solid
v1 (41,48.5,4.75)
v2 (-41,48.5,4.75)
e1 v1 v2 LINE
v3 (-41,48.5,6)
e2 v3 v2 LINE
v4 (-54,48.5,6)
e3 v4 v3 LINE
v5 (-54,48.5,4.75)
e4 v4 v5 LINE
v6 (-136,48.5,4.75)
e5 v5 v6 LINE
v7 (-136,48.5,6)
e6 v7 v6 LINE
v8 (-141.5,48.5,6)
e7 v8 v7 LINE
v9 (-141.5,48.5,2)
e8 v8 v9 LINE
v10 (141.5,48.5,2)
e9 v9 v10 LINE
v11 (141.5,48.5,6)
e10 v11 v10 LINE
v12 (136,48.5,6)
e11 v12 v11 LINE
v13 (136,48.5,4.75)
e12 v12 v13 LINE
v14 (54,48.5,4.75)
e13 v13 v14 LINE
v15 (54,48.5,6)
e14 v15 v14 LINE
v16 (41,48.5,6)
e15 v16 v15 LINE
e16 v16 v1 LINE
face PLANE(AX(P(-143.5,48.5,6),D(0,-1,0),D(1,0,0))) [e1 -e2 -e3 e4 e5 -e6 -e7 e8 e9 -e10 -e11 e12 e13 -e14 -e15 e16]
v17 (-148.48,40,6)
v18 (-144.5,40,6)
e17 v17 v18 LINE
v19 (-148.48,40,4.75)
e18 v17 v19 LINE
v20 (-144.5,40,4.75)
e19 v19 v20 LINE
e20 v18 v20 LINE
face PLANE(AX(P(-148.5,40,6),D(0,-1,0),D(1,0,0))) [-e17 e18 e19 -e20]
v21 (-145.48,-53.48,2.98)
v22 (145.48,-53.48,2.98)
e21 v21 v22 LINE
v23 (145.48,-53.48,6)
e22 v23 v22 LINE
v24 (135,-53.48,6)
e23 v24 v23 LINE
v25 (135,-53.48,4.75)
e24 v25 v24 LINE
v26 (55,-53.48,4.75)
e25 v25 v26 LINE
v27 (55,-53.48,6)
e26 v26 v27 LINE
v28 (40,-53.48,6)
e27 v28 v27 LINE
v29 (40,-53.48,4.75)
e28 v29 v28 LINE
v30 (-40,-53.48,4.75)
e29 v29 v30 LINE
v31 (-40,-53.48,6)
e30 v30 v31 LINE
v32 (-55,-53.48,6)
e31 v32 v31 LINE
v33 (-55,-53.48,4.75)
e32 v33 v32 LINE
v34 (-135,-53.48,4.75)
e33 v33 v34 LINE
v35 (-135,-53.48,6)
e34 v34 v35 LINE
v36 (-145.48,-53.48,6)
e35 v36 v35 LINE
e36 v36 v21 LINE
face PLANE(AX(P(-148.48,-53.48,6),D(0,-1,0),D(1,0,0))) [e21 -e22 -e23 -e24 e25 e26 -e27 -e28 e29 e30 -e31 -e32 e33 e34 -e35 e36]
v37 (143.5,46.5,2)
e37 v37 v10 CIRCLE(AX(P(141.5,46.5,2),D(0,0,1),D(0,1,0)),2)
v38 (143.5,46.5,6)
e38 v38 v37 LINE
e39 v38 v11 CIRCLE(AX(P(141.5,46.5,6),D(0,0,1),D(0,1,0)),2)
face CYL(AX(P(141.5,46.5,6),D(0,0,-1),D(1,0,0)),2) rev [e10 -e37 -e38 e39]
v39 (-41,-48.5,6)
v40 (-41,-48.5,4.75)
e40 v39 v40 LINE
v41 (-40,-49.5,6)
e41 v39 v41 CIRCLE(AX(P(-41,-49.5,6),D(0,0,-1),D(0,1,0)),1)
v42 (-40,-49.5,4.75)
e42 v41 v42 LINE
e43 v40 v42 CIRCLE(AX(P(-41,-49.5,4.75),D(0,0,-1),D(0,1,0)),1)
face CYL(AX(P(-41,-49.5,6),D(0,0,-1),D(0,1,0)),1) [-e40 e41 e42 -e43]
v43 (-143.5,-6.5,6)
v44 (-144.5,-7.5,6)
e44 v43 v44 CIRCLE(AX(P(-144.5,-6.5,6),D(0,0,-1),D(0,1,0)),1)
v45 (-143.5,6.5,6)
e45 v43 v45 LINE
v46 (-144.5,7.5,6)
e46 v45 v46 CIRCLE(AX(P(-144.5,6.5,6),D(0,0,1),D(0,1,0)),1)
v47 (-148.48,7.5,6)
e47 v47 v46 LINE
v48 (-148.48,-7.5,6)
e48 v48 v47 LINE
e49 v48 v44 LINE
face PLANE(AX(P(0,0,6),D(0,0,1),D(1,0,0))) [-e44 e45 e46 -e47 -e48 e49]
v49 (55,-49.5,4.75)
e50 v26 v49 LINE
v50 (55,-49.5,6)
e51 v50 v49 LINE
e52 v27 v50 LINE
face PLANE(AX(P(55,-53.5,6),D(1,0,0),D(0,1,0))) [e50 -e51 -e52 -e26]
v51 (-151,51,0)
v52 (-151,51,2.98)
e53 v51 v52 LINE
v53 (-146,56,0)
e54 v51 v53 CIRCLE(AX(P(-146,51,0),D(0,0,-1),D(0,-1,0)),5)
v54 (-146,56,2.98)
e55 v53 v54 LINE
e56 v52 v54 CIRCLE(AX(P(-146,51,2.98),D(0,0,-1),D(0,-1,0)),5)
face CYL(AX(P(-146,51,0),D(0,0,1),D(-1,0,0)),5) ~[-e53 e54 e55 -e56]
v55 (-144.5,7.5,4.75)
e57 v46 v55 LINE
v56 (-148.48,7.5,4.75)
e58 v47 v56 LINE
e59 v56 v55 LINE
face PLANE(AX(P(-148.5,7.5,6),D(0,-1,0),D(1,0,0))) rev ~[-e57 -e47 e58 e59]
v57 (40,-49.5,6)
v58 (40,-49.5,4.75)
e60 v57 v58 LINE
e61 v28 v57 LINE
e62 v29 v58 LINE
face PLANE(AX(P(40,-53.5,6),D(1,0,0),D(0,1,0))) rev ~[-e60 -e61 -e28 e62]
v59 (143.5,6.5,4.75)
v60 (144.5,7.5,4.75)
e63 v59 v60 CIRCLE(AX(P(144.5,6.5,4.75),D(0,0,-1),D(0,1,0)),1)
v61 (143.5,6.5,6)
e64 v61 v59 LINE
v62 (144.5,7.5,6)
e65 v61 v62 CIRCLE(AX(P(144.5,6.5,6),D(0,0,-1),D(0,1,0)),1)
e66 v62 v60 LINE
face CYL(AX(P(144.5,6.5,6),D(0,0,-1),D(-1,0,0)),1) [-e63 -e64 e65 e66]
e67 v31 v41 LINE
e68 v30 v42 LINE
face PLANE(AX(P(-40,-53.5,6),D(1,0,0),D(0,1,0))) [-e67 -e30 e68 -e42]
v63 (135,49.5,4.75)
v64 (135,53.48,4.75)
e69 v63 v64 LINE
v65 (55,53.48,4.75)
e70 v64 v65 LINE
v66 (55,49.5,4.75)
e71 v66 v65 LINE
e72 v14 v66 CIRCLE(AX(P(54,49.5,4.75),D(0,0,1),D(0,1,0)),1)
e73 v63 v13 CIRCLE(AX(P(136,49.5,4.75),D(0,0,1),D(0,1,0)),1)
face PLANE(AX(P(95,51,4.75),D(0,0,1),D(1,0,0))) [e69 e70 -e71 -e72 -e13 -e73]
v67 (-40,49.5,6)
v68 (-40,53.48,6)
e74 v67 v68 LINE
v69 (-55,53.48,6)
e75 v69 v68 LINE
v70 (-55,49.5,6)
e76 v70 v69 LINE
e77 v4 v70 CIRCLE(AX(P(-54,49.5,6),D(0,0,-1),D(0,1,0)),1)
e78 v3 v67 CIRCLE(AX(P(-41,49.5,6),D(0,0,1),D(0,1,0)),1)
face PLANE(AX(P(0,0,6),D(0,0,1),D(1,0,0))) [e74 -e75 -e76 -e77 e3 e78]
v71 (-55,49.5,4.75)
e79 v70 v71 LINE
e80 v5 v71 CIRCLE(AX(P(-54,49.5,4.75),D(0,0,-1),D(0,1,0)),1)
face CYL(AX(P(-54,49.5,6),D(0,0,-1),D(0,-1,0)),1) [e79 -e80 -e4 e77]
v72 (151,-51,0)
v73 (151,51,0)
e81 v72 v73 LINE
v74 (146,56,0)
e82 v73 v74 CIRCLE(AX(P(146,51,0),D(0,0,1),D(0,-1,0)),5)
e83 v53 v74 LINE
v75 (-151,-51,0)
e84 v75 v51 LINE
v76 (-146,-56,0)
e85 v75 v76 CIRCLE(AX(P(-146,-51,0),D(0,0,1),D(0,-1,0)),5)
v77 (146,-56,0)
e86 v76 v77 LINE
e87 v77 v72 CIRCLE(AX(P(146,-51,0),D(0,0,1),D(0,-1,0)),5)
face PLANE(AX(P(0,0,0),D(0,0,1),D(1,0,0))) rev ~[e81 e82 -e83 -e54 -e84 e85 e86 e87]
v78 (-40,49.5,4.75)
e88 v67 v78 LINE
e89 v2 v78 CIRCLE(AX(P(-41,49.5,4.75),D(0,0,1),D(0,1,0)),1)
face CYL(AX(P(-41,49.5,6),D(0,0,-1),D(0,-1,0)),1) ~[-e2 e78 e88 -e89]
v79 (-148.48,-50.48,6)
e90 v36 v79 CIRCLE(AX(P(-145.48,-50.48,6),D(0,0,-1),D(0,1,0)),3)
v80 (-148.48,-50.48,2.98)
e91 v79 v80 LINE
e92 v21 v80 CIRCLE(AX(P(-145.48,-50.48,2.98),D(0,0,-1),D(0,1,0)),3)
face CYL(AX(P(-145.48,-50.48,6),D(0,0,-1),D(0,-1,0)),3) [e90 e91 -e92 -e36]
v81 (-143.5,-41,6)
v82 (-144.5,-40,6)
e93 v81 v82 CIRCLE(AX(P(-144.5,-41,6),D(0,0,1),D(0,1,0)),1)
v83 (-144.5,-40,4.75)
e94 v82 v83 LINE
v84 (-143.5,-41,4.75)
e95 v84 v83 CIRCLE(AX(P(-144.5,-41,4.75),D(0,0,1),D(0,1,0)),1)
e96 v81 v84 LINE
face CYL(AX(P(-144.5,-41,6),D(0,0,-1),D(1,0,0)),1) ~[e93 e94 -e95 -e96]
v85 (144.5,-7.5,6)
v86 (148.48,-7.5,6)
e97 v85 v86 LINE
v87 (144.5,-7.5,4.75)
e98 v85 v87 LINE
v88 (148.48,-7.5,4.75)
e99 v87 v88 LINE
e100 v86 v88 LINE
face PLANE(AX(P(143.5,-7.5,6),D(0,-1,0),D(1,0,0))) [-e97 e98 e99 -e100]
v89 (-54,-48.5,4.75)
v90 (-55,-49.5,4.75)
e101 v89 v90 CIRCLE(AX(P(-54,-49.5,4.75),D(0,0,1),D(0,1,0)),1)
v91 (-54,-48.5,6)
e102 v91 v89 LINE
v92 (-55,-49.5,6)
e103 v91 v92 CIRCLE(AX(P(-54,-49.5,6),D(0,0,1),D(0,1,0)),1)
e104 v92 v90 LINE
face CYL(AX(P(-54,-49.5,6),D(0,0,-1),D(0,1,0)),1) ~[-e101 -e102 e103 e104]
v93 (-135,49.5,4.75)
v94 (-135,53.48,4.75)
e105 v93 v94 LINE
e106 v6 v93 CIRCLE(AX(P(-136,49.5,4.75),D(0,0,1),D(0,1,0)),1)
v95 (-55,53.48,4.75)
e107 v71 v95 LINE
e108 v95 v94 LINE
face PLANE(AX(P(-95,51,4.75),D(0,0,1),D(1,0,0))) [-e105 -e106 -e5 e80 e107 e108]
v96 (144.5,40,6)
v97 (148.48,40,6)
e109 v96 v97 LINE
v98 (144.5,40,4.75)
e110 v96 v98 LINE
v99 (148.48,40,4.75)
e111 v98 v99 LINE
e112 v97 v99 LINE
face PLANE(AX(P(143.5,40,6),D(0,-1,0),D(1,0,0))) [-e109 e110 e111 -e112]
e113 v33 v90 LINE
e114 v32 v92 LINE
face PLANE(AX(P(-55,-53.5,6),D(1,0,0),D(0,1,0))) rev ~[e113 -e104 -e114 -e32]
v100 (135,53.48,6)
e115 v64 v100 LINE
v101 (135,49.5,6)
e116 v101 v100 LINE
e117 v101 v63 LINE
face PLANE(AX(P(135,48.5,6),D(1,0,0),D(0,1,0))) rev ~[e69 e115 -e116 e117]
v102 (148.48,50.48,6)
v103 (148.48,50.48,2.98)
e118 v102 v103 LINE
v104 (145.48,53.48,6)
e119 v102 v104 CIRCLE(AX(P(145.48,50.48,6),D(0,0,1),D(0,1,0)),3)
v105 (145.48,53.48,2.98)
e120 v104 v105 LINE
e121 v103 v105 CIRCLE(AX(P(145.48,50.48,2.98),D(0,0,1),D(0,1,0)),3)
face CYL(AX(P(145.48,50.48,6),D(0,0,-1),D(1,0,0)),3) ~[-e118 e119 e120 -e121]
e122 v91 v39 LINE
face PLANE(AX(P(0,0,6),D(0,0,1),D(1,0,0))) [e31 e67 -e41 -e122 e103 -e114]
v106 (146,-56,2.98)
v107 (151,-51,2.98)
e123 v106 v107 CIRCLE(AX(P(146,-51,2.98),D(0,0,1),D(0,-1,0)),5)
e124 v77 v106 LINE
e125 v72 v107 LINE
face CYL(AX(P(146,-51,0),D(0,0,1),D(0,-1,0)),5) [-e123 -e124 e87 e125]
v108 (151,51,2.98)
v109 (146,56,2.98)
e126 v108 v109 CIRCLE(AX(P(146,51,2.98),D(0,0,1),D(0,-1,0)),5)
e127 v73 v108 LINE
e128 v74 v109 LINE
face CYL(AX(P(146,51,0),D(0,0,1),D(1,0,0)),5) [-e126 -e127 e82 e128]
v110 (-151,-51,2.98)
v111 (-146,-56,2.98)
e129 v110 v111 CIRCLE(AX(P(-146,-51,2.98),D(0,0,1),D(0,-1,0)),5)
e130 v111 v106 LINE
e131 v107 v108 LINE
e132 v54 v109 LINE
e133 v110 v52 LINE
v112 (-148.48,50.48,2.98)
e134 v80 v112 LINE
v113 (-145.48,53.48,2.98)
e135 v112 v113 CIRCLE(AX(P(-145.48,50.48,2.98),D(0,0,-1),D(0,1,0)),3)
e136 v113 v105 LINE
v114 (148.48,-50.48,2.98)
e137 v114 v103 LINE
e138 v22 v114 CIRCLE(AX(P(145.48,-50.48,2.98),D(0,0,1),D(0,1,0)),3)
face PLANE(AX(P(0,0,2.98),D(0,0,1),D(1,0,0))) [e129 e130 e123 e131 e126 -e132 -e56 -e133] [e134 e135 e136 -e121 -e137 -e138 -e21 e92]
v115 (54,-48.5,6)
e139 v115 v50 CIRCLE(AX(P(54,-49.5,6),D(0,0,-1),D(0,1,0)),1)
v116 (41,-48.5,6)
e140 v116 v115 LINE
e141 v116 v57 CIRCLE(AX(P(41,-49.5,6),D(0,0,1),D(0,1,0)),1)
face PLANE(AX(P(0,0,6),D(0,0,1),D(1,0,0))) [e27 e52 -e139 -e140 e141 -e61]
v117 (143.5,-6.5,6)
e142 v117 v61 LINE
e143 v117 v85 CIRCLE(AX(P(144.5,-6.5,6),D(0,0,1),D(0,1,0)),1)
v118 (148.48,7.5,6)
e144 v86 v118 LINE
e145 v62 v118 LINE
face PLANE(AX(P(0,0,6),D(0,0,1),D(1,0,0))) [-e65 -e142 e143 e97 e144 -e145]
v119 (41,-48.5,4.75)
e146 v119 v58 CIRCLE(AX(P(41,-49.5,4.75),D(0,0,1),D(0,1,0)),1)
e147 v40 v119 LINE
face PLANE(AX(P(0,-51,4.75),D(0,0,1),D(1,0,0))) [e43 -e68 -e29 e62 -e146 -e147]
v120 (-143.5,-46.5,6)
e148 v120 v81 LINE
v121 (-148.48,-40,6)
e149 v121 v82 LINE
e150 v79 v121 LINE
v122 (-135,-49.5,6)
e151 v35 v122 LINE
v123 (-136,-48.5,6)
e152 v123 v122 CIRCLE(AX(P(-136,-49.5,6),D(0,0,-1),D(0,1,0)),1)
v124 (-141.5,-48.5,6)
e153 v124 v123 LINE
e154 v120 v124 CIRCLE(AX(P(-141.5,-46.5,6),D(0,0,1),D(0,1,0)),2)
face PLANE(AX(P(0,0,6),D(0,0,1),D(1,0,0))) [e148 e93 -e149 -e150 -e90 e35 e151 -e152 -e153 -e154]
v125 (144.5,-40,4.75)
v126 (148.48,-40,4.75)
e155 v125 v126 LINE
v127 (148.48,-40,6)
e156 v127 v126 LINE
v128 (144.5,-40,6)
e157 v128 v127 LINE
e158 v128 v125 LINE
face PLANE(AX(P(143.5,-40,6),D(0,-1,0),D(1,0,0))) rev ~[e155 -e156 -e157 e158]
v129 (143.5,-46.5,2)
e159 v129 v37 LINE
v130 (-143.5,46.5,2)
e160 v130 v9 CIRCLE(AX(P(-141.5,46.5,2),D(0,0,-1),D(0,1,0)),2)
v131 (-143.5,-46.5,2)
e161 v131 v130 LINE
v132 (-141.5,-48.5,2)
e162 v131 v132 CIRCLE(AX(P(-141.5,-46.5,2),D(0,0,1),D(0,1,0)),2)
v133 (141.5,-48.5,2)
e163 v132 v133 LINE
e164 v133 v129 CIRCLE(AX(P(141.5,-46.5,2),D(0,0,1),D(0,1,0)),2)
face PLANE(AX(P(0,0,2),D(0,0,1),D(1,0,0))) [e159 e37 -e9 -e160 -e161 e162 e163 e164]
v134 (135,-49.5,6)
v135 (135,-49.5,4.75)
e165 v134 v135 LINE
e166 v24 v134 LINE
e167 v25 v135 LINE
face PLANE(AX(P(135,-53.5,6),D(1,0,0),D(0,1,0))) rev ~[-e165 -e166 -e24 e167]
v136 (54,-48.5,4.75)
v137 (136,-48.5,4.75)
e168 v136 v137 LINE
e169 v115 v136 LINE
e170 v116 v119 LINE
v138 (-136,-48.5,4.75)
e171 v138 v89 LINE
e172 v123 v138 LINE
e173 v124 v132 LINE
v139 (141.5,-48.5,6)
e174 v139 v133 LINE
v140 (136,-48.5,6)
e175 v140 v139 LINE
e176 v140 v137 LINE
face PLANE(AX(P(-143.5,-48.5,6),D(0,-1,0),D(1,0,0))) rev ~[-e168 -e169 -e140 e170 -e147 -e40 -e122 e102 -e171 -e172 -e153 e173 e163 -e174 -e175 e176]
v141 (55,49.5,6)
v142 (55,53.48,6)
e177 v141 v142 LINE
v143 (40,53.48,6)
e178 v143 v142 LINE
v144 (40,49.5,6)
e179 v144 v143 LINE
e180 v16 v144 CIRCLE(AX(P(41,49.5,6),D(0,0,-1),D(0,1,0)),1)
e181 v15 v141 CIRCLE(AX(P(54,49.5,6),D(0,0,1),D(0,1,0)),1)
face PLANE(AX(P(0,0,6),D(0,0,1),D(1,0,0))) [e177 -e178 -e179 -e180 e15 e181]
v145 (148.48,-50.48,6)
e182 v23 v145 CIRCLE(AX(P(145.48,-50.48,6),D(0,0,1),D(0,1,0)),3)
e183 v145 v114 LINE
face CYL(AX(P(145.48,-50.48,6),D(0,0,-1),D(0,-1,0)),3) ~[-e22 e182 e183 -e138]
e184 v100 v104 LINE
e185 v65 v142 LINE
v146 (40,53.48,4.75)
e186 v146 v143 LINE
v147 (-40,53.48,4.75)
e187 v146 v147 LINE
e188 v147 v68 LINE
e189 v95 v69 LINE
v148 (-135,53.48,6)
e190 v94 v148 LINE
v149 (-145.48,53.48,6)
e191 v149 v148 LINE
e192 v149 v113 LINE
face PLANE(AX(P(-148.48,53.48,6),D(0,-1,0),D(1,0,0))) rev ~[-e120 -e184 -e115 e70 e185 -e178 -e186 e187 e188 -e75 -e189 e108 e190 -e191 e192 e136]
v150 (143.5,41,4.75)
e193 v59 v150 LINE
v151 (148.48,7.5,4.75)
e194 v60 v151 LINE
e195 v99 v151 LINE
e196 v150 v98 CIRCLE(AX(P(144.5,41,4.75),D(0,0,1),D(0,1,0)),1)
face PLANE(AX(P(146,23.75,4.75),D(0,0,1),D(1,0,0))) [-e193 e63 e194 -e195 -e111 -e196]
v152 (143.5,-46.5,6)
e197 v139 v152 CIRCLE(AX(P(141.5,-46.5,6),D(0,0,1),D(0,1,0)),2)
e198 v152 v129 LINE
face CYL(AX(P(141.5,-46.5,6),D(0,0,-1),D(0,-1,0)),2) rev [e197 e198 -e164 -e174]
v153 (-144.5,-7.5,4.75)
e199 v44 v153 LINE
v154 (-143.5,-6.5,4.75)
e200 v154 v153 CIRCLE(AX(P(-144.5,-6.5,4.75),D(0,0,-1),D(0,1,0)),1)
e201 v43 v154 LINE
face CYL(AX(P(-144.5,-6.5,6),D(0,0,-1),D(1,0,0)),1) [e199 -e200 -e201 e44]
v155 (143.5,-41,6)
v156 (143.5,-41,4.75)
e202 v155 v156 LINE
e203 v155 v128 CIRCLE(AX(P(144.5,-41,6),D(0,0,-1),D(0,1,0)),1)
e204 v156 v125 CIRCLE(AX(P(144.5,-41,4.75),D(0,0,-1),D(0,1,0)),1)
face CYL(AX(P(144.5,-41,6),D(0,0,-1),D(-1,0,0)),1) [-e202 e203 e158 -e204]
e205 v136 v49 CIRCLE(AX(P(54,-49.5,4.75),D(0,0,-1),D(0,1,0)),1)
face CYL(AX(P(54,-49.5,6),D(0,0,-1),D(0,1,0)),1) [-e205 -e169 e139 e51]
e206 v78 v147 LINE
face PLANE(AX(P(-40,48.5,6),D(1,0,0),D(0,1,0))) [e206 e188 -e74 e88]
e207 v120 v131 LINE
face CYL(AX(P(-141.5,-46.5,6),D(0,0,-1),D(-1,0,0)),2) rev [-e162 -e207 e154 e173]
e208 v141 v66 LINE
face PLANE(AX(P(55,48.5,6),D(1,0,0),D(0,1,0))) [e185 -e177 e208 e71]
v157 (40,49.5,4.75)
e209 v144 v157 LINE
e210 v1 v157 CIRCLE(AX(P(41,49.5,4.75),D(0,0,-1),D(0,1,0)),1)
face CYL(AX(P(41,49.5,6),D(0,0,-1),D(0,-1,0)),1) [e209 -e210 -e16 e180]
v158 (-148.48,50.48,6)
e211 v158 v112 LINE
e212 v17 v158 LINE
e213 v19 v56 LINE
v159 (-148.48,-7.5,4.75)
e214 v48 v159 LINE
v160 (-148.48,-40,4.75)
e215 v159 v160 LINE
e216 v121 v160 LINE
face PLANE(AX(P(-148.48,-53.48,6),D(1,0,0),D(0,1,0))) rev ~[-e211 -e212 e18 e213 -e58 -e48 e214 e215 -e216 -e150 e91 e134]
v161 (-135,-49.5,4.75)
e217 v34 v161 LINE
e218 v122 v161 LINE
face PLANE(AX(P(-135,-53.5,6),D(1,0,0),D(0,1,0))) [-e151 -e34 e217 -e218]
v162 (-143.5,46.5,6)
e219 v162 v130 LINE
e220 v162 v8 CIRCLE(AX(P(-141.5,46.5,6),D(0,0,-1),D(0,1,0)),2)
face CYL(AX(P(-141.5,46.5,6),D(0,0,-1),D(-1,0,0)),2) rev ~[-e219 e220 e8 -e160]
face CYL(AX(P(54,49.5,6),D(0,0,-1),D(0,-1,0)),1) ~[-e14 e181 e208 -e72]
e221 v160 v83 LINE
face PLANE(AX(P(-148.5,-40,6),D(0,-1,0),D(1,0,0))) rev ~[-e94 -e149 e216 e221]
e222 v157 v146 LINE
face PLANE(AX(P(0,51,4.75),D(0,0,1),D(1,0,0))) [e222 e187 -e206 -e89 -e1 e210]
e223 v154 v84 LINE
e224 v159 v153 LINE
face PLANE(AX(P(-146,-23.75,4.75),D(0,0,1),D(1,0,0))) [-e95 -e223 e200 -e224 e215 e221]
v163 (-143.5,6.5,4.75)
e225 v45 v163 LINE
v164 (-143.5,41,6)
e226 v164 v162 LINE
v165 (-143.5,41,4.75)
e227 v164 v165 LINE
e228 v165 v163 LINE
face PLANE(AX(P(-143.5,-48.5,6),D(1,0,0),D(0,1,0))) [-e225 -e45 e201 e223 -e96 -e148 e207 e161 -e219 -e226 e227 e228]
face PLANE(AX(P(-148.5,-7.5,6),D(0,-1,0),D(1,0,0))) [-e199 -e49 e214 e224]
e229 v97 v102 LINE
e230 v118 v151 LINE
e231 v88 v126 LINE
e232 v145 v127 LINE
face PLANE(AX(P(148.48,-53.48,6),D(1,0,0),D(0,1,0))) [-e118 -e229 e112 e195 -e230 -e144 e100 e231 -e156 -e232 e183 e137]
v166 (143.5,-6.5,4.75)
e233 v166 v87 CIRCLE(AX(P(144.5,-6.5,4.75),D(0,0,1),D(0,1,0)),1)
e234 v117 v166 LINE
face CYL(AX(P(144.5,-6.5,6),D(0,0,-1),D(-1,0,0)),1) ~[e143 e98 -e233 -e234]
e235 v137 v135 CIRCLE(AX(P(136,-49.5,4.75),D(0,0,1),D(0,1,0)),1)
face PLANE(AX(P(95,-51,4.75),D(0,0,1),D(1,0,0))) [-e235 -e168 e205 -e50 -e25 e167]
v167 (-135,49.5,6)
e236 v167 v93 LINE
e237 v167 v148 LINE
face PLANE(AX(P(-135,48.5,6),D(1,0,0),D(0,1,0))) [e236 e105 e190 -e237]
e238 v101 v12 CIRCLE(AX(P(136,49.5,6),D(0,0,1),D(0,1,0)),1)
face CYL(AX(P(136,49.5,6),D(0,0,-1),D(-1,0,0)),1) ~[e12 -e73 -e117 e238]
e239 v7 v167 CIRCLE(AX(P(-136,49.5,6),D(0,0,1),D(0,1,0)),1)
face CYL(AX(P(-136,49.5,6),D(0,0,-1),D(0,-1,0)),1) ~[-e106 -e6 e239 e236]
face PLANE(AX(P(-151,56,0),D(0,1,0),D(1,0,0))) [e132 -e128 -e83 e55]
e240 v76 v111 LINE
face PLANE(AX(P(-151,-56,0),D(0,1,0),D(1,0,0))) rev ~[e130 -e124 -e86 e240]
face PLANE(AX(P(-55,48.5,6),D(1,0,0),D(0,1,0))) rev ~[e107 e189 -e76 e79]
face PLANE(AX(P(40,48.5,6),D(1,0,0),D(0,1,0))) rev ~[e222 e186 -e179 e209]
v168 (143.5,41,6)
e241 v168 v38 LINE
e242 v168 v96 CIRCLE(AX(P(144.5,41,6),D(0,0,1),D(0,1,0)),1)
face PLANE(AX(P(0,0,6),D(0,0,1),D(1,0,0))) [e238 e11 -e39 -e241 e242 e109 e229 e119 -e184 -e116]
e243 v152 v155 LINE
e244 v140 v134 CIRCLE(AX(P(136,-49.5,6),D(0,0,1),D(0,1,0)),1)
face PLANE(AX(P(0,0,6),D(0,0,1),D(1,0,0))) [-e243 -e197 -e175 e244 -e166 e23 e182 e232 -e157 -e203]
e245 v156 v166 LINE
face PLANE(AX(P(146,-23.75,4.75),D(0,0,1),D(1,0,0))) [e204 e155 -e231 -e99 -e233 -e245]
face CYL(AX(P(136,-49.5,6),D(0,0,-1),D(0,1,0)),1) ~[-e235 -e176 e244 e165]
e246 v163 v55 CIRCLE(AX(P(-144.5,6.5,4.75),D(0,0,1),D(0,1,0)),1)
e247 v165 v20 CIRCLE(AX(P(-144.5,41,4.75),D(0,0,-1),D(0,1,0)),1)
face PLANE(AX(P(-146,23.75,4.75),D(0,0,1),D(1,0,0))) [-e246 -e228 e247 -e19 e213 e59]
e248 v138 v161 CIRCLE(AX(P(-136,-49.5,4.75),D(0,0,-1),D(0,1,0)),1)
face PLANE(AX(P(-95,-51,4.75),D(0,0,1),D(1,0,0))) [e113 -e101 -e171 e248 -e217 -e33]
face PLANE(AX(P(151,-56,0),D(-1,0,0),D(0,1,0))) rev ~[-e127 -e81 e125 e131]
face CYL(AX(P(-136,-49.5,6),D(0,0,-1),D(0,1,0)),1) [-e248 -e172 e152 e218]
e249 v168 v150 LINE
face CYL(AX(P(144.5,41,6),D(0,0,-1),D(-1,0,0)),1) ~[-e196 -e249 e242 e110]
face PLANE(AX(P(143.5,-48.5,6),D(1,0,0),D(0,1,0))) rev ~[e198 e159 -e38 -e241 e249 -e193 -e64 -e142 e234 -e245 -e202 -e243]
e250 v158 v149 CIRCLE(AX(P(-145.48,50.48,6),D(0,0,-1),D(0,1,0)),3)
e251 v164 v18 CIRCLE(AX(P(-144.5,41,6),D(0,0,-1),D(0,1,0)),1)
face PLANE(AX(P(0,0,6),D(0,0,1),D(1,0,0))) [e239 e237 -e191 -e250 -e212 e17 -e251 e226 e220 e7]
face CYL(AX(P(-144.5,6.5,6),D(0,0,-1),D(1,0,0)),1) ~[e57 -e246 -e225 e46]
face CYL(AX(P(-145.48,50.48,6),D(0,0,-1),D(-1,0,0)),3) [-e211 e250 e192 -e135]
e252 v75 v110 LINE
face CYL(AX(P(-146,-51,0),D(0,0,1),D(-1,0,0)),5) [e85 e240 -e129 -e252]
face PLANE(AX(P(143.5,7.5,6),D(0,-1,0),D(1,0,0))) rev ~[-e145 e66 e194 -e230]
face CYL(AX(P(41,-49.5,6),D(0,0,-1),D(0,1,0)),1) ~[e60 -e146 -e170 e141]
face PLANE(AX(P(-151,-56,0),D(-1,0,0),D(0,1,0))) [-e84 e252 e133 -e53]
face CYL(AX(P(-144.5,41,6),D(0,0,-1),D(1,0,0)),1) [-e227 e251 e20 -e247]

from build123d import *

# Parameters (mm, degrees)
SKETCH_W        = 302
SKETCH_H        = 112
PAD_DEPTH       = 6
SKETCH001_W     = 287
SKETCH001_H     = 97
POCKET_DEPTH    = 4
SKETCH002_W     = 302
SKETCH002_H     = 112
SKETCH002_W_2   = 296.96
SKETCH002_H_2   = 106.96
POCKET001_DEPTH = 3.02
FILLET_R        = 3
FILLET001_R     = 5
FILLET002_R     = 5
FILLET003_R     = 3
FILLET004_R     = 2
FILLET005_R     = 2
FILLET006_R     = 5
FILLET007_R     = 3
FILLET008_R     = 2
FILLET009_R     = 5
FILLET010_R     = 3
FILLET011_R     = 2
SKETCH003_W     = 80
SKETCH003_H     = 5
POCKET002_DEPTH = 1.25
SKETCH004_W     = 5
SKETCH004_H     = 32.5
POCKET003_DEPTH = 1.25
FILLET012_R     = 1
FILLET013_R     = 1
FILLET014_R     = 1
FILLET015_R     = 1
FILLET016_R     = 1
FILLET017_R     = 1
FILLET018_R     = 1
FILLET019_R     = 1
FILLET020_R     = 1
FILLET021_R     = 1
FILLET022_R     = 1
FILLET023_R     = 1
FILLET024_R     = 1
FILLET025_R     = 1
FILLET026_R     = 1
FILLET027_R     = 1
FILLET028_R     = 1
FILLET029_R     = 1
FILLET030_R     = 1
FILLET031_R     = 1


with BuildPart() as part:
    # Sketch → Pad (new body)
    with BuildSketch(Plane.XY):
        Rectangle(SKETCH_W, SKETCH_H)
    extrude(amount=PAD_DEPTH)

    # Sketch001 (on Face6 of Pad) → Pocket (cut)
    with BuildSketch(Plane.XY.offset(6)):
        Rectangle(SKETCH001_W, SKETCH001_H)
    extrude(amount=-POCKET_DEPTH, mode=Mode.SUBTRACT)

    # Sketch002 (on Face5 of Pocket) → Pocket001 (cut)
    with BuildSketch(Plane.XY.offset(6)):
        Rectangle(SKETCH002_W, SKETCH002_H)
        Rectangle(SKETCH002_W_2, SKETCH002_H_2, mode=Mode.SUBTRACT)
    extrude(amount=-POCKET001_DEPTH, mode=Mode.SUBTRACT)

    # Fillet
    fillet_edges = [part.edges().sort_by_distance(p)[0] for p in [
        (-148.48, -53.48, 4.49),
    ]]
    fillet(fillet_edges, radius=FILLET_R)

    # Fillet001
    fillet001_edges = [part.edges().sort_by_distance(p)[0] for p in [
        (-151, -56, 1.49),
    ]]
    fillet(fillet001_edges, radius=FILLET001_R)

    # Fillet002
    fillet002_edges = [part.edges().sort_by_distance(p)[0] for p in [
        (-151, 56, 1.49),
    ]]
    fillet(fillet002_edges, radius=FILLET002_R)

    # Fillet003
    fillet003_edges = [part.edges().sort_by_distance(p)[0] for p in [
        (-148.48, 53.48, 4.49),
    ]]
    fillet(fillet003_edges, radius=FILLET003_R)

    # Fillet004
    fillet004_edges = [part.edges().sort_by_distance(p)[0] for p in [
        (-143.5, 48.5, 4),
    ]]
    fillet(fillet004_edges, radius=FILLET004_R)

    # Fillet005
    fillet005_edges = [part.edges().sort_by_distance(p)[0] for p in [
        (-143.5, -48.5, 4),
    ]]
    fillet(fillet005_edges, radius=FILLET005_R)

    # Fillet006
    fillet006_edges = [part.edges().sort_by_distance(p)[0] for p in [
        (151, -56, 1.49),
    ]]
    fillet(fillet006_edges, radius=FILLET006_R)

    # Fillet007
    fillet007_edges = [part.edges().sort_by_distance(p)[0] for p in [
        (148.48, -53.48, 4.49),
    ]]
    fillet(fillet007_edges, radius=FILLET007_R)

    # Fillet008
    fillet008_edges = [part.edges().sort_by_distance(p)[0] for p in [
        (143.5, -48.5, 4),
    ]]
    fillet(fillet008_edges, radius=FILLET008_R)

    # Fillet009
    fillet009_edges = [part.edges().sort_by_distance(p)[0] for p in [
        (151, 56, 1.49),
    ]]
    fillet(fillet009_edges, radius=FILLET009_R)

    # Fillet010
    fillet010_edges = [part.edges().sort_by_distance(p)[0] for p in [
        (148.48, 53.48, 4.49),
    ]]
    fillet(fillet010_edges, radius=FILLET010_R)

    # Fillet011
    fillet011_edges = [part.edges().sort_by_distance(p)[0] for p in [
        (143.5, 48.5, 4),
    ]]
    fillet(fillet011_edges, radius=FILLET011_R)

    # Sketch003 (on Face1 of Fillet011) → Pocket002 (cut)
    with BuildSketch(Plane.XY.offset(6)):
        with Locations((0, 51)):
            Rectangle(SKETCH003_W, SKETCH003_H)
        with Locations((-95, 51)):
            Rectangle(SKETCH003_W, SKETCH003_H)
        with Locations((95, 51)):
            Rectangle(SKETCH003_W, SKETCH003_H)
        with Locations((95, -51)):
            Rectangle(SKETCH003_W, SKETCH003_H)
        with Locations((0, -51)):
            Rectangle(SKETCH003_W, SKETCH003_H)
        with Locations((-95, -51)):
            Rectangle(SKETCH003_W, SKETCH003_H)
    extrude(amount=-POCKET002_DEPTH, mode=Mode.SUBTRACT)

    # Sketch004 (on Face25 of Pocket002) → Pocket003 (cut)
    with BuildSketch(Plane.XY.offset(6)):
        with Locations((-146, 23.75)):
            Rectangle(SKETCH004_W, SKETCH004_H)
        with Locations((-146, -23.75)):
            Rectangle(SKETCH004_W, SKETCH004_H)
        with Locations((146, 23.75)):
            Rectangle(SKETCH004_W, SKETCH004_H)
        with Locations((146, -23.75)):
            Rectangle(SKETCH004_W, SKETCH004_H)
    extrude(amount=-POCKET003_DEPTH, mode=Mode.SUBTRACT)

    # Fillet012
    fillet012_edges = [part.edges().sort_by_distance(p)[0] for p in [
        (-55, 48.5, 5.375),
    ]]
    fillet(fillet012_edges, radius=FILLET012_R)

    # Fillet013
    fillet013_edges = [part.edges().sort_by_distance(p)[0] for p in [
        (-40, 48.5, 5.375),
    ]]
    fillet(fillet013_edges, radius=FILLET013_R)

    # Fillet014
    fillet014_edges = [part.edges().sort_by_distance(p)[0] for p in [
        (-135, 48.5, 5.375),
    ]]
    fillet(fillet014_edges, radius=FILLET014_R)

    # Fillet015
    fillet015_edges = [part.edges().sort_by_distance(p)[0] for p in [
        (-143.5, 40, 5.375),
    ]]
    fillet(fillet015_edges, radius=FILLET015_R)

    # Fillet016
    fillet016_edges = [part.edges().sort_by_distance(p)[0] for p in [
        (-143.5, 7.5, 5.375),
    ]]
    fillet(fillet016_edges, radius=FILLET016_R)

    # Fillet017
    fillet017_edges = [part.edges().sort_by_distance(p)[0] for p in [
        (-143.5, -7.5, 5.375),
    ]]
    fillet(fillet017_edges, radius=FILLET017_R)

    # Fillet018
    fillet018_edges = [part.edges().sort_by_distance(p)[0] for p in [
        (-143.5, -40, 5.375),
    ]]
    fillet(fillet018_edges, radius=FILLET018_R)

    # Fillet019
    fillet019_edges = [part.edges().sort_by_distance(p)[0] for p in [
        (-135, -48.5, 5.375),
    ]]
    fillet(fillet019_edges, radius=FILLET019_R)

    # Fillet020
    fillet020_edges = [part.edges().sort_by_distance(p)[0] for p in [
        (-40, -48.5, 5.375),
    ]]
    fillet(fillet020_edges, radius=FILLET020_R)

    # Fillet021
    fillet021_edges = [part.edges().sort_by_distance(p)[0] for p in [
        (-55, -48.5, 5.375),
    ]]
    fillet(fillet021_edges, radius=FILLET021_R)

    # Fillet022
    fillet022_edges = [part.edges().sort_by_distance(p)[0] for p in [
        (40, -48.5, 5.375),
    ]]
    fillet(fillet022_edges, radius=FILLET022_R)

    # Fillet023
    fillet023_edges = [part.edges().sort_by_distance(p)[0] for p in [
        (55, -48.5, 5.375),
    ]]
    fillet(fillet023_edges, radius=FILLET023_R)

    # Fillet024
    fillet024_edges = [part.edges().sort_by_distance(p)[0] for p in [
        (135, -48.5, 5.375),
    ]]
    fillet(fillet024_edges, radius=FILLET024_R)

    # Fillet025
    fillet025_edges = [part.edges().sort_by_distance(p)[0] for p in [
        (143.5, -40, 5.375),
    ]]
    fillet(fillet025_edges, radius=FILLET025_R)

    # Fillet026
    fillet026_edges = [part.edges().sort_by_distance(p)[0] for p in [
        (143.5, 7.5, 5.375),
    ]]
    fillet(fillet026_edges, radius=FILLET026_R)

    # Fillet027
    fillet027_edges = [part.edges().sort_by_distance(p)[0] for p in [
        (143.5, -7.5, 5.375),
    ]]
    fillet(fillet027_edges, radius=FILLET027_R)

    # Fillet028
    fillet028_edges = [part.edges().sort_by_distance(p)[0] for p in [
        (135, 48.5, 5.375),
    ]]
    fillet(fillet028_edges, radius=FILLET028_R)

    # Fillet029
    fillet029_edges = [part.edges().sort_by_distance(p)[0] for p in [
        (143.5, 40, 5.375),
    ]]
    fillet(fillet029_edges, radius=FILLET029_R)

    # Fillet030
    fillet030_edges = [part.edges().sort_by_distance(p)[0] for p in [
        (55, 48.5, 5.375),
    ]]
    fillet(fillet030_edges, radius=FILLET030_R)

    # Fillet031
    fillet031_edges = [part.edges().sort_by_distance(p)[0] for p in [
        (40, 48.5, 5.375),
    ]]
    fillet(fillet031_edges, radius=FILLET031_R)


solid = part.part
